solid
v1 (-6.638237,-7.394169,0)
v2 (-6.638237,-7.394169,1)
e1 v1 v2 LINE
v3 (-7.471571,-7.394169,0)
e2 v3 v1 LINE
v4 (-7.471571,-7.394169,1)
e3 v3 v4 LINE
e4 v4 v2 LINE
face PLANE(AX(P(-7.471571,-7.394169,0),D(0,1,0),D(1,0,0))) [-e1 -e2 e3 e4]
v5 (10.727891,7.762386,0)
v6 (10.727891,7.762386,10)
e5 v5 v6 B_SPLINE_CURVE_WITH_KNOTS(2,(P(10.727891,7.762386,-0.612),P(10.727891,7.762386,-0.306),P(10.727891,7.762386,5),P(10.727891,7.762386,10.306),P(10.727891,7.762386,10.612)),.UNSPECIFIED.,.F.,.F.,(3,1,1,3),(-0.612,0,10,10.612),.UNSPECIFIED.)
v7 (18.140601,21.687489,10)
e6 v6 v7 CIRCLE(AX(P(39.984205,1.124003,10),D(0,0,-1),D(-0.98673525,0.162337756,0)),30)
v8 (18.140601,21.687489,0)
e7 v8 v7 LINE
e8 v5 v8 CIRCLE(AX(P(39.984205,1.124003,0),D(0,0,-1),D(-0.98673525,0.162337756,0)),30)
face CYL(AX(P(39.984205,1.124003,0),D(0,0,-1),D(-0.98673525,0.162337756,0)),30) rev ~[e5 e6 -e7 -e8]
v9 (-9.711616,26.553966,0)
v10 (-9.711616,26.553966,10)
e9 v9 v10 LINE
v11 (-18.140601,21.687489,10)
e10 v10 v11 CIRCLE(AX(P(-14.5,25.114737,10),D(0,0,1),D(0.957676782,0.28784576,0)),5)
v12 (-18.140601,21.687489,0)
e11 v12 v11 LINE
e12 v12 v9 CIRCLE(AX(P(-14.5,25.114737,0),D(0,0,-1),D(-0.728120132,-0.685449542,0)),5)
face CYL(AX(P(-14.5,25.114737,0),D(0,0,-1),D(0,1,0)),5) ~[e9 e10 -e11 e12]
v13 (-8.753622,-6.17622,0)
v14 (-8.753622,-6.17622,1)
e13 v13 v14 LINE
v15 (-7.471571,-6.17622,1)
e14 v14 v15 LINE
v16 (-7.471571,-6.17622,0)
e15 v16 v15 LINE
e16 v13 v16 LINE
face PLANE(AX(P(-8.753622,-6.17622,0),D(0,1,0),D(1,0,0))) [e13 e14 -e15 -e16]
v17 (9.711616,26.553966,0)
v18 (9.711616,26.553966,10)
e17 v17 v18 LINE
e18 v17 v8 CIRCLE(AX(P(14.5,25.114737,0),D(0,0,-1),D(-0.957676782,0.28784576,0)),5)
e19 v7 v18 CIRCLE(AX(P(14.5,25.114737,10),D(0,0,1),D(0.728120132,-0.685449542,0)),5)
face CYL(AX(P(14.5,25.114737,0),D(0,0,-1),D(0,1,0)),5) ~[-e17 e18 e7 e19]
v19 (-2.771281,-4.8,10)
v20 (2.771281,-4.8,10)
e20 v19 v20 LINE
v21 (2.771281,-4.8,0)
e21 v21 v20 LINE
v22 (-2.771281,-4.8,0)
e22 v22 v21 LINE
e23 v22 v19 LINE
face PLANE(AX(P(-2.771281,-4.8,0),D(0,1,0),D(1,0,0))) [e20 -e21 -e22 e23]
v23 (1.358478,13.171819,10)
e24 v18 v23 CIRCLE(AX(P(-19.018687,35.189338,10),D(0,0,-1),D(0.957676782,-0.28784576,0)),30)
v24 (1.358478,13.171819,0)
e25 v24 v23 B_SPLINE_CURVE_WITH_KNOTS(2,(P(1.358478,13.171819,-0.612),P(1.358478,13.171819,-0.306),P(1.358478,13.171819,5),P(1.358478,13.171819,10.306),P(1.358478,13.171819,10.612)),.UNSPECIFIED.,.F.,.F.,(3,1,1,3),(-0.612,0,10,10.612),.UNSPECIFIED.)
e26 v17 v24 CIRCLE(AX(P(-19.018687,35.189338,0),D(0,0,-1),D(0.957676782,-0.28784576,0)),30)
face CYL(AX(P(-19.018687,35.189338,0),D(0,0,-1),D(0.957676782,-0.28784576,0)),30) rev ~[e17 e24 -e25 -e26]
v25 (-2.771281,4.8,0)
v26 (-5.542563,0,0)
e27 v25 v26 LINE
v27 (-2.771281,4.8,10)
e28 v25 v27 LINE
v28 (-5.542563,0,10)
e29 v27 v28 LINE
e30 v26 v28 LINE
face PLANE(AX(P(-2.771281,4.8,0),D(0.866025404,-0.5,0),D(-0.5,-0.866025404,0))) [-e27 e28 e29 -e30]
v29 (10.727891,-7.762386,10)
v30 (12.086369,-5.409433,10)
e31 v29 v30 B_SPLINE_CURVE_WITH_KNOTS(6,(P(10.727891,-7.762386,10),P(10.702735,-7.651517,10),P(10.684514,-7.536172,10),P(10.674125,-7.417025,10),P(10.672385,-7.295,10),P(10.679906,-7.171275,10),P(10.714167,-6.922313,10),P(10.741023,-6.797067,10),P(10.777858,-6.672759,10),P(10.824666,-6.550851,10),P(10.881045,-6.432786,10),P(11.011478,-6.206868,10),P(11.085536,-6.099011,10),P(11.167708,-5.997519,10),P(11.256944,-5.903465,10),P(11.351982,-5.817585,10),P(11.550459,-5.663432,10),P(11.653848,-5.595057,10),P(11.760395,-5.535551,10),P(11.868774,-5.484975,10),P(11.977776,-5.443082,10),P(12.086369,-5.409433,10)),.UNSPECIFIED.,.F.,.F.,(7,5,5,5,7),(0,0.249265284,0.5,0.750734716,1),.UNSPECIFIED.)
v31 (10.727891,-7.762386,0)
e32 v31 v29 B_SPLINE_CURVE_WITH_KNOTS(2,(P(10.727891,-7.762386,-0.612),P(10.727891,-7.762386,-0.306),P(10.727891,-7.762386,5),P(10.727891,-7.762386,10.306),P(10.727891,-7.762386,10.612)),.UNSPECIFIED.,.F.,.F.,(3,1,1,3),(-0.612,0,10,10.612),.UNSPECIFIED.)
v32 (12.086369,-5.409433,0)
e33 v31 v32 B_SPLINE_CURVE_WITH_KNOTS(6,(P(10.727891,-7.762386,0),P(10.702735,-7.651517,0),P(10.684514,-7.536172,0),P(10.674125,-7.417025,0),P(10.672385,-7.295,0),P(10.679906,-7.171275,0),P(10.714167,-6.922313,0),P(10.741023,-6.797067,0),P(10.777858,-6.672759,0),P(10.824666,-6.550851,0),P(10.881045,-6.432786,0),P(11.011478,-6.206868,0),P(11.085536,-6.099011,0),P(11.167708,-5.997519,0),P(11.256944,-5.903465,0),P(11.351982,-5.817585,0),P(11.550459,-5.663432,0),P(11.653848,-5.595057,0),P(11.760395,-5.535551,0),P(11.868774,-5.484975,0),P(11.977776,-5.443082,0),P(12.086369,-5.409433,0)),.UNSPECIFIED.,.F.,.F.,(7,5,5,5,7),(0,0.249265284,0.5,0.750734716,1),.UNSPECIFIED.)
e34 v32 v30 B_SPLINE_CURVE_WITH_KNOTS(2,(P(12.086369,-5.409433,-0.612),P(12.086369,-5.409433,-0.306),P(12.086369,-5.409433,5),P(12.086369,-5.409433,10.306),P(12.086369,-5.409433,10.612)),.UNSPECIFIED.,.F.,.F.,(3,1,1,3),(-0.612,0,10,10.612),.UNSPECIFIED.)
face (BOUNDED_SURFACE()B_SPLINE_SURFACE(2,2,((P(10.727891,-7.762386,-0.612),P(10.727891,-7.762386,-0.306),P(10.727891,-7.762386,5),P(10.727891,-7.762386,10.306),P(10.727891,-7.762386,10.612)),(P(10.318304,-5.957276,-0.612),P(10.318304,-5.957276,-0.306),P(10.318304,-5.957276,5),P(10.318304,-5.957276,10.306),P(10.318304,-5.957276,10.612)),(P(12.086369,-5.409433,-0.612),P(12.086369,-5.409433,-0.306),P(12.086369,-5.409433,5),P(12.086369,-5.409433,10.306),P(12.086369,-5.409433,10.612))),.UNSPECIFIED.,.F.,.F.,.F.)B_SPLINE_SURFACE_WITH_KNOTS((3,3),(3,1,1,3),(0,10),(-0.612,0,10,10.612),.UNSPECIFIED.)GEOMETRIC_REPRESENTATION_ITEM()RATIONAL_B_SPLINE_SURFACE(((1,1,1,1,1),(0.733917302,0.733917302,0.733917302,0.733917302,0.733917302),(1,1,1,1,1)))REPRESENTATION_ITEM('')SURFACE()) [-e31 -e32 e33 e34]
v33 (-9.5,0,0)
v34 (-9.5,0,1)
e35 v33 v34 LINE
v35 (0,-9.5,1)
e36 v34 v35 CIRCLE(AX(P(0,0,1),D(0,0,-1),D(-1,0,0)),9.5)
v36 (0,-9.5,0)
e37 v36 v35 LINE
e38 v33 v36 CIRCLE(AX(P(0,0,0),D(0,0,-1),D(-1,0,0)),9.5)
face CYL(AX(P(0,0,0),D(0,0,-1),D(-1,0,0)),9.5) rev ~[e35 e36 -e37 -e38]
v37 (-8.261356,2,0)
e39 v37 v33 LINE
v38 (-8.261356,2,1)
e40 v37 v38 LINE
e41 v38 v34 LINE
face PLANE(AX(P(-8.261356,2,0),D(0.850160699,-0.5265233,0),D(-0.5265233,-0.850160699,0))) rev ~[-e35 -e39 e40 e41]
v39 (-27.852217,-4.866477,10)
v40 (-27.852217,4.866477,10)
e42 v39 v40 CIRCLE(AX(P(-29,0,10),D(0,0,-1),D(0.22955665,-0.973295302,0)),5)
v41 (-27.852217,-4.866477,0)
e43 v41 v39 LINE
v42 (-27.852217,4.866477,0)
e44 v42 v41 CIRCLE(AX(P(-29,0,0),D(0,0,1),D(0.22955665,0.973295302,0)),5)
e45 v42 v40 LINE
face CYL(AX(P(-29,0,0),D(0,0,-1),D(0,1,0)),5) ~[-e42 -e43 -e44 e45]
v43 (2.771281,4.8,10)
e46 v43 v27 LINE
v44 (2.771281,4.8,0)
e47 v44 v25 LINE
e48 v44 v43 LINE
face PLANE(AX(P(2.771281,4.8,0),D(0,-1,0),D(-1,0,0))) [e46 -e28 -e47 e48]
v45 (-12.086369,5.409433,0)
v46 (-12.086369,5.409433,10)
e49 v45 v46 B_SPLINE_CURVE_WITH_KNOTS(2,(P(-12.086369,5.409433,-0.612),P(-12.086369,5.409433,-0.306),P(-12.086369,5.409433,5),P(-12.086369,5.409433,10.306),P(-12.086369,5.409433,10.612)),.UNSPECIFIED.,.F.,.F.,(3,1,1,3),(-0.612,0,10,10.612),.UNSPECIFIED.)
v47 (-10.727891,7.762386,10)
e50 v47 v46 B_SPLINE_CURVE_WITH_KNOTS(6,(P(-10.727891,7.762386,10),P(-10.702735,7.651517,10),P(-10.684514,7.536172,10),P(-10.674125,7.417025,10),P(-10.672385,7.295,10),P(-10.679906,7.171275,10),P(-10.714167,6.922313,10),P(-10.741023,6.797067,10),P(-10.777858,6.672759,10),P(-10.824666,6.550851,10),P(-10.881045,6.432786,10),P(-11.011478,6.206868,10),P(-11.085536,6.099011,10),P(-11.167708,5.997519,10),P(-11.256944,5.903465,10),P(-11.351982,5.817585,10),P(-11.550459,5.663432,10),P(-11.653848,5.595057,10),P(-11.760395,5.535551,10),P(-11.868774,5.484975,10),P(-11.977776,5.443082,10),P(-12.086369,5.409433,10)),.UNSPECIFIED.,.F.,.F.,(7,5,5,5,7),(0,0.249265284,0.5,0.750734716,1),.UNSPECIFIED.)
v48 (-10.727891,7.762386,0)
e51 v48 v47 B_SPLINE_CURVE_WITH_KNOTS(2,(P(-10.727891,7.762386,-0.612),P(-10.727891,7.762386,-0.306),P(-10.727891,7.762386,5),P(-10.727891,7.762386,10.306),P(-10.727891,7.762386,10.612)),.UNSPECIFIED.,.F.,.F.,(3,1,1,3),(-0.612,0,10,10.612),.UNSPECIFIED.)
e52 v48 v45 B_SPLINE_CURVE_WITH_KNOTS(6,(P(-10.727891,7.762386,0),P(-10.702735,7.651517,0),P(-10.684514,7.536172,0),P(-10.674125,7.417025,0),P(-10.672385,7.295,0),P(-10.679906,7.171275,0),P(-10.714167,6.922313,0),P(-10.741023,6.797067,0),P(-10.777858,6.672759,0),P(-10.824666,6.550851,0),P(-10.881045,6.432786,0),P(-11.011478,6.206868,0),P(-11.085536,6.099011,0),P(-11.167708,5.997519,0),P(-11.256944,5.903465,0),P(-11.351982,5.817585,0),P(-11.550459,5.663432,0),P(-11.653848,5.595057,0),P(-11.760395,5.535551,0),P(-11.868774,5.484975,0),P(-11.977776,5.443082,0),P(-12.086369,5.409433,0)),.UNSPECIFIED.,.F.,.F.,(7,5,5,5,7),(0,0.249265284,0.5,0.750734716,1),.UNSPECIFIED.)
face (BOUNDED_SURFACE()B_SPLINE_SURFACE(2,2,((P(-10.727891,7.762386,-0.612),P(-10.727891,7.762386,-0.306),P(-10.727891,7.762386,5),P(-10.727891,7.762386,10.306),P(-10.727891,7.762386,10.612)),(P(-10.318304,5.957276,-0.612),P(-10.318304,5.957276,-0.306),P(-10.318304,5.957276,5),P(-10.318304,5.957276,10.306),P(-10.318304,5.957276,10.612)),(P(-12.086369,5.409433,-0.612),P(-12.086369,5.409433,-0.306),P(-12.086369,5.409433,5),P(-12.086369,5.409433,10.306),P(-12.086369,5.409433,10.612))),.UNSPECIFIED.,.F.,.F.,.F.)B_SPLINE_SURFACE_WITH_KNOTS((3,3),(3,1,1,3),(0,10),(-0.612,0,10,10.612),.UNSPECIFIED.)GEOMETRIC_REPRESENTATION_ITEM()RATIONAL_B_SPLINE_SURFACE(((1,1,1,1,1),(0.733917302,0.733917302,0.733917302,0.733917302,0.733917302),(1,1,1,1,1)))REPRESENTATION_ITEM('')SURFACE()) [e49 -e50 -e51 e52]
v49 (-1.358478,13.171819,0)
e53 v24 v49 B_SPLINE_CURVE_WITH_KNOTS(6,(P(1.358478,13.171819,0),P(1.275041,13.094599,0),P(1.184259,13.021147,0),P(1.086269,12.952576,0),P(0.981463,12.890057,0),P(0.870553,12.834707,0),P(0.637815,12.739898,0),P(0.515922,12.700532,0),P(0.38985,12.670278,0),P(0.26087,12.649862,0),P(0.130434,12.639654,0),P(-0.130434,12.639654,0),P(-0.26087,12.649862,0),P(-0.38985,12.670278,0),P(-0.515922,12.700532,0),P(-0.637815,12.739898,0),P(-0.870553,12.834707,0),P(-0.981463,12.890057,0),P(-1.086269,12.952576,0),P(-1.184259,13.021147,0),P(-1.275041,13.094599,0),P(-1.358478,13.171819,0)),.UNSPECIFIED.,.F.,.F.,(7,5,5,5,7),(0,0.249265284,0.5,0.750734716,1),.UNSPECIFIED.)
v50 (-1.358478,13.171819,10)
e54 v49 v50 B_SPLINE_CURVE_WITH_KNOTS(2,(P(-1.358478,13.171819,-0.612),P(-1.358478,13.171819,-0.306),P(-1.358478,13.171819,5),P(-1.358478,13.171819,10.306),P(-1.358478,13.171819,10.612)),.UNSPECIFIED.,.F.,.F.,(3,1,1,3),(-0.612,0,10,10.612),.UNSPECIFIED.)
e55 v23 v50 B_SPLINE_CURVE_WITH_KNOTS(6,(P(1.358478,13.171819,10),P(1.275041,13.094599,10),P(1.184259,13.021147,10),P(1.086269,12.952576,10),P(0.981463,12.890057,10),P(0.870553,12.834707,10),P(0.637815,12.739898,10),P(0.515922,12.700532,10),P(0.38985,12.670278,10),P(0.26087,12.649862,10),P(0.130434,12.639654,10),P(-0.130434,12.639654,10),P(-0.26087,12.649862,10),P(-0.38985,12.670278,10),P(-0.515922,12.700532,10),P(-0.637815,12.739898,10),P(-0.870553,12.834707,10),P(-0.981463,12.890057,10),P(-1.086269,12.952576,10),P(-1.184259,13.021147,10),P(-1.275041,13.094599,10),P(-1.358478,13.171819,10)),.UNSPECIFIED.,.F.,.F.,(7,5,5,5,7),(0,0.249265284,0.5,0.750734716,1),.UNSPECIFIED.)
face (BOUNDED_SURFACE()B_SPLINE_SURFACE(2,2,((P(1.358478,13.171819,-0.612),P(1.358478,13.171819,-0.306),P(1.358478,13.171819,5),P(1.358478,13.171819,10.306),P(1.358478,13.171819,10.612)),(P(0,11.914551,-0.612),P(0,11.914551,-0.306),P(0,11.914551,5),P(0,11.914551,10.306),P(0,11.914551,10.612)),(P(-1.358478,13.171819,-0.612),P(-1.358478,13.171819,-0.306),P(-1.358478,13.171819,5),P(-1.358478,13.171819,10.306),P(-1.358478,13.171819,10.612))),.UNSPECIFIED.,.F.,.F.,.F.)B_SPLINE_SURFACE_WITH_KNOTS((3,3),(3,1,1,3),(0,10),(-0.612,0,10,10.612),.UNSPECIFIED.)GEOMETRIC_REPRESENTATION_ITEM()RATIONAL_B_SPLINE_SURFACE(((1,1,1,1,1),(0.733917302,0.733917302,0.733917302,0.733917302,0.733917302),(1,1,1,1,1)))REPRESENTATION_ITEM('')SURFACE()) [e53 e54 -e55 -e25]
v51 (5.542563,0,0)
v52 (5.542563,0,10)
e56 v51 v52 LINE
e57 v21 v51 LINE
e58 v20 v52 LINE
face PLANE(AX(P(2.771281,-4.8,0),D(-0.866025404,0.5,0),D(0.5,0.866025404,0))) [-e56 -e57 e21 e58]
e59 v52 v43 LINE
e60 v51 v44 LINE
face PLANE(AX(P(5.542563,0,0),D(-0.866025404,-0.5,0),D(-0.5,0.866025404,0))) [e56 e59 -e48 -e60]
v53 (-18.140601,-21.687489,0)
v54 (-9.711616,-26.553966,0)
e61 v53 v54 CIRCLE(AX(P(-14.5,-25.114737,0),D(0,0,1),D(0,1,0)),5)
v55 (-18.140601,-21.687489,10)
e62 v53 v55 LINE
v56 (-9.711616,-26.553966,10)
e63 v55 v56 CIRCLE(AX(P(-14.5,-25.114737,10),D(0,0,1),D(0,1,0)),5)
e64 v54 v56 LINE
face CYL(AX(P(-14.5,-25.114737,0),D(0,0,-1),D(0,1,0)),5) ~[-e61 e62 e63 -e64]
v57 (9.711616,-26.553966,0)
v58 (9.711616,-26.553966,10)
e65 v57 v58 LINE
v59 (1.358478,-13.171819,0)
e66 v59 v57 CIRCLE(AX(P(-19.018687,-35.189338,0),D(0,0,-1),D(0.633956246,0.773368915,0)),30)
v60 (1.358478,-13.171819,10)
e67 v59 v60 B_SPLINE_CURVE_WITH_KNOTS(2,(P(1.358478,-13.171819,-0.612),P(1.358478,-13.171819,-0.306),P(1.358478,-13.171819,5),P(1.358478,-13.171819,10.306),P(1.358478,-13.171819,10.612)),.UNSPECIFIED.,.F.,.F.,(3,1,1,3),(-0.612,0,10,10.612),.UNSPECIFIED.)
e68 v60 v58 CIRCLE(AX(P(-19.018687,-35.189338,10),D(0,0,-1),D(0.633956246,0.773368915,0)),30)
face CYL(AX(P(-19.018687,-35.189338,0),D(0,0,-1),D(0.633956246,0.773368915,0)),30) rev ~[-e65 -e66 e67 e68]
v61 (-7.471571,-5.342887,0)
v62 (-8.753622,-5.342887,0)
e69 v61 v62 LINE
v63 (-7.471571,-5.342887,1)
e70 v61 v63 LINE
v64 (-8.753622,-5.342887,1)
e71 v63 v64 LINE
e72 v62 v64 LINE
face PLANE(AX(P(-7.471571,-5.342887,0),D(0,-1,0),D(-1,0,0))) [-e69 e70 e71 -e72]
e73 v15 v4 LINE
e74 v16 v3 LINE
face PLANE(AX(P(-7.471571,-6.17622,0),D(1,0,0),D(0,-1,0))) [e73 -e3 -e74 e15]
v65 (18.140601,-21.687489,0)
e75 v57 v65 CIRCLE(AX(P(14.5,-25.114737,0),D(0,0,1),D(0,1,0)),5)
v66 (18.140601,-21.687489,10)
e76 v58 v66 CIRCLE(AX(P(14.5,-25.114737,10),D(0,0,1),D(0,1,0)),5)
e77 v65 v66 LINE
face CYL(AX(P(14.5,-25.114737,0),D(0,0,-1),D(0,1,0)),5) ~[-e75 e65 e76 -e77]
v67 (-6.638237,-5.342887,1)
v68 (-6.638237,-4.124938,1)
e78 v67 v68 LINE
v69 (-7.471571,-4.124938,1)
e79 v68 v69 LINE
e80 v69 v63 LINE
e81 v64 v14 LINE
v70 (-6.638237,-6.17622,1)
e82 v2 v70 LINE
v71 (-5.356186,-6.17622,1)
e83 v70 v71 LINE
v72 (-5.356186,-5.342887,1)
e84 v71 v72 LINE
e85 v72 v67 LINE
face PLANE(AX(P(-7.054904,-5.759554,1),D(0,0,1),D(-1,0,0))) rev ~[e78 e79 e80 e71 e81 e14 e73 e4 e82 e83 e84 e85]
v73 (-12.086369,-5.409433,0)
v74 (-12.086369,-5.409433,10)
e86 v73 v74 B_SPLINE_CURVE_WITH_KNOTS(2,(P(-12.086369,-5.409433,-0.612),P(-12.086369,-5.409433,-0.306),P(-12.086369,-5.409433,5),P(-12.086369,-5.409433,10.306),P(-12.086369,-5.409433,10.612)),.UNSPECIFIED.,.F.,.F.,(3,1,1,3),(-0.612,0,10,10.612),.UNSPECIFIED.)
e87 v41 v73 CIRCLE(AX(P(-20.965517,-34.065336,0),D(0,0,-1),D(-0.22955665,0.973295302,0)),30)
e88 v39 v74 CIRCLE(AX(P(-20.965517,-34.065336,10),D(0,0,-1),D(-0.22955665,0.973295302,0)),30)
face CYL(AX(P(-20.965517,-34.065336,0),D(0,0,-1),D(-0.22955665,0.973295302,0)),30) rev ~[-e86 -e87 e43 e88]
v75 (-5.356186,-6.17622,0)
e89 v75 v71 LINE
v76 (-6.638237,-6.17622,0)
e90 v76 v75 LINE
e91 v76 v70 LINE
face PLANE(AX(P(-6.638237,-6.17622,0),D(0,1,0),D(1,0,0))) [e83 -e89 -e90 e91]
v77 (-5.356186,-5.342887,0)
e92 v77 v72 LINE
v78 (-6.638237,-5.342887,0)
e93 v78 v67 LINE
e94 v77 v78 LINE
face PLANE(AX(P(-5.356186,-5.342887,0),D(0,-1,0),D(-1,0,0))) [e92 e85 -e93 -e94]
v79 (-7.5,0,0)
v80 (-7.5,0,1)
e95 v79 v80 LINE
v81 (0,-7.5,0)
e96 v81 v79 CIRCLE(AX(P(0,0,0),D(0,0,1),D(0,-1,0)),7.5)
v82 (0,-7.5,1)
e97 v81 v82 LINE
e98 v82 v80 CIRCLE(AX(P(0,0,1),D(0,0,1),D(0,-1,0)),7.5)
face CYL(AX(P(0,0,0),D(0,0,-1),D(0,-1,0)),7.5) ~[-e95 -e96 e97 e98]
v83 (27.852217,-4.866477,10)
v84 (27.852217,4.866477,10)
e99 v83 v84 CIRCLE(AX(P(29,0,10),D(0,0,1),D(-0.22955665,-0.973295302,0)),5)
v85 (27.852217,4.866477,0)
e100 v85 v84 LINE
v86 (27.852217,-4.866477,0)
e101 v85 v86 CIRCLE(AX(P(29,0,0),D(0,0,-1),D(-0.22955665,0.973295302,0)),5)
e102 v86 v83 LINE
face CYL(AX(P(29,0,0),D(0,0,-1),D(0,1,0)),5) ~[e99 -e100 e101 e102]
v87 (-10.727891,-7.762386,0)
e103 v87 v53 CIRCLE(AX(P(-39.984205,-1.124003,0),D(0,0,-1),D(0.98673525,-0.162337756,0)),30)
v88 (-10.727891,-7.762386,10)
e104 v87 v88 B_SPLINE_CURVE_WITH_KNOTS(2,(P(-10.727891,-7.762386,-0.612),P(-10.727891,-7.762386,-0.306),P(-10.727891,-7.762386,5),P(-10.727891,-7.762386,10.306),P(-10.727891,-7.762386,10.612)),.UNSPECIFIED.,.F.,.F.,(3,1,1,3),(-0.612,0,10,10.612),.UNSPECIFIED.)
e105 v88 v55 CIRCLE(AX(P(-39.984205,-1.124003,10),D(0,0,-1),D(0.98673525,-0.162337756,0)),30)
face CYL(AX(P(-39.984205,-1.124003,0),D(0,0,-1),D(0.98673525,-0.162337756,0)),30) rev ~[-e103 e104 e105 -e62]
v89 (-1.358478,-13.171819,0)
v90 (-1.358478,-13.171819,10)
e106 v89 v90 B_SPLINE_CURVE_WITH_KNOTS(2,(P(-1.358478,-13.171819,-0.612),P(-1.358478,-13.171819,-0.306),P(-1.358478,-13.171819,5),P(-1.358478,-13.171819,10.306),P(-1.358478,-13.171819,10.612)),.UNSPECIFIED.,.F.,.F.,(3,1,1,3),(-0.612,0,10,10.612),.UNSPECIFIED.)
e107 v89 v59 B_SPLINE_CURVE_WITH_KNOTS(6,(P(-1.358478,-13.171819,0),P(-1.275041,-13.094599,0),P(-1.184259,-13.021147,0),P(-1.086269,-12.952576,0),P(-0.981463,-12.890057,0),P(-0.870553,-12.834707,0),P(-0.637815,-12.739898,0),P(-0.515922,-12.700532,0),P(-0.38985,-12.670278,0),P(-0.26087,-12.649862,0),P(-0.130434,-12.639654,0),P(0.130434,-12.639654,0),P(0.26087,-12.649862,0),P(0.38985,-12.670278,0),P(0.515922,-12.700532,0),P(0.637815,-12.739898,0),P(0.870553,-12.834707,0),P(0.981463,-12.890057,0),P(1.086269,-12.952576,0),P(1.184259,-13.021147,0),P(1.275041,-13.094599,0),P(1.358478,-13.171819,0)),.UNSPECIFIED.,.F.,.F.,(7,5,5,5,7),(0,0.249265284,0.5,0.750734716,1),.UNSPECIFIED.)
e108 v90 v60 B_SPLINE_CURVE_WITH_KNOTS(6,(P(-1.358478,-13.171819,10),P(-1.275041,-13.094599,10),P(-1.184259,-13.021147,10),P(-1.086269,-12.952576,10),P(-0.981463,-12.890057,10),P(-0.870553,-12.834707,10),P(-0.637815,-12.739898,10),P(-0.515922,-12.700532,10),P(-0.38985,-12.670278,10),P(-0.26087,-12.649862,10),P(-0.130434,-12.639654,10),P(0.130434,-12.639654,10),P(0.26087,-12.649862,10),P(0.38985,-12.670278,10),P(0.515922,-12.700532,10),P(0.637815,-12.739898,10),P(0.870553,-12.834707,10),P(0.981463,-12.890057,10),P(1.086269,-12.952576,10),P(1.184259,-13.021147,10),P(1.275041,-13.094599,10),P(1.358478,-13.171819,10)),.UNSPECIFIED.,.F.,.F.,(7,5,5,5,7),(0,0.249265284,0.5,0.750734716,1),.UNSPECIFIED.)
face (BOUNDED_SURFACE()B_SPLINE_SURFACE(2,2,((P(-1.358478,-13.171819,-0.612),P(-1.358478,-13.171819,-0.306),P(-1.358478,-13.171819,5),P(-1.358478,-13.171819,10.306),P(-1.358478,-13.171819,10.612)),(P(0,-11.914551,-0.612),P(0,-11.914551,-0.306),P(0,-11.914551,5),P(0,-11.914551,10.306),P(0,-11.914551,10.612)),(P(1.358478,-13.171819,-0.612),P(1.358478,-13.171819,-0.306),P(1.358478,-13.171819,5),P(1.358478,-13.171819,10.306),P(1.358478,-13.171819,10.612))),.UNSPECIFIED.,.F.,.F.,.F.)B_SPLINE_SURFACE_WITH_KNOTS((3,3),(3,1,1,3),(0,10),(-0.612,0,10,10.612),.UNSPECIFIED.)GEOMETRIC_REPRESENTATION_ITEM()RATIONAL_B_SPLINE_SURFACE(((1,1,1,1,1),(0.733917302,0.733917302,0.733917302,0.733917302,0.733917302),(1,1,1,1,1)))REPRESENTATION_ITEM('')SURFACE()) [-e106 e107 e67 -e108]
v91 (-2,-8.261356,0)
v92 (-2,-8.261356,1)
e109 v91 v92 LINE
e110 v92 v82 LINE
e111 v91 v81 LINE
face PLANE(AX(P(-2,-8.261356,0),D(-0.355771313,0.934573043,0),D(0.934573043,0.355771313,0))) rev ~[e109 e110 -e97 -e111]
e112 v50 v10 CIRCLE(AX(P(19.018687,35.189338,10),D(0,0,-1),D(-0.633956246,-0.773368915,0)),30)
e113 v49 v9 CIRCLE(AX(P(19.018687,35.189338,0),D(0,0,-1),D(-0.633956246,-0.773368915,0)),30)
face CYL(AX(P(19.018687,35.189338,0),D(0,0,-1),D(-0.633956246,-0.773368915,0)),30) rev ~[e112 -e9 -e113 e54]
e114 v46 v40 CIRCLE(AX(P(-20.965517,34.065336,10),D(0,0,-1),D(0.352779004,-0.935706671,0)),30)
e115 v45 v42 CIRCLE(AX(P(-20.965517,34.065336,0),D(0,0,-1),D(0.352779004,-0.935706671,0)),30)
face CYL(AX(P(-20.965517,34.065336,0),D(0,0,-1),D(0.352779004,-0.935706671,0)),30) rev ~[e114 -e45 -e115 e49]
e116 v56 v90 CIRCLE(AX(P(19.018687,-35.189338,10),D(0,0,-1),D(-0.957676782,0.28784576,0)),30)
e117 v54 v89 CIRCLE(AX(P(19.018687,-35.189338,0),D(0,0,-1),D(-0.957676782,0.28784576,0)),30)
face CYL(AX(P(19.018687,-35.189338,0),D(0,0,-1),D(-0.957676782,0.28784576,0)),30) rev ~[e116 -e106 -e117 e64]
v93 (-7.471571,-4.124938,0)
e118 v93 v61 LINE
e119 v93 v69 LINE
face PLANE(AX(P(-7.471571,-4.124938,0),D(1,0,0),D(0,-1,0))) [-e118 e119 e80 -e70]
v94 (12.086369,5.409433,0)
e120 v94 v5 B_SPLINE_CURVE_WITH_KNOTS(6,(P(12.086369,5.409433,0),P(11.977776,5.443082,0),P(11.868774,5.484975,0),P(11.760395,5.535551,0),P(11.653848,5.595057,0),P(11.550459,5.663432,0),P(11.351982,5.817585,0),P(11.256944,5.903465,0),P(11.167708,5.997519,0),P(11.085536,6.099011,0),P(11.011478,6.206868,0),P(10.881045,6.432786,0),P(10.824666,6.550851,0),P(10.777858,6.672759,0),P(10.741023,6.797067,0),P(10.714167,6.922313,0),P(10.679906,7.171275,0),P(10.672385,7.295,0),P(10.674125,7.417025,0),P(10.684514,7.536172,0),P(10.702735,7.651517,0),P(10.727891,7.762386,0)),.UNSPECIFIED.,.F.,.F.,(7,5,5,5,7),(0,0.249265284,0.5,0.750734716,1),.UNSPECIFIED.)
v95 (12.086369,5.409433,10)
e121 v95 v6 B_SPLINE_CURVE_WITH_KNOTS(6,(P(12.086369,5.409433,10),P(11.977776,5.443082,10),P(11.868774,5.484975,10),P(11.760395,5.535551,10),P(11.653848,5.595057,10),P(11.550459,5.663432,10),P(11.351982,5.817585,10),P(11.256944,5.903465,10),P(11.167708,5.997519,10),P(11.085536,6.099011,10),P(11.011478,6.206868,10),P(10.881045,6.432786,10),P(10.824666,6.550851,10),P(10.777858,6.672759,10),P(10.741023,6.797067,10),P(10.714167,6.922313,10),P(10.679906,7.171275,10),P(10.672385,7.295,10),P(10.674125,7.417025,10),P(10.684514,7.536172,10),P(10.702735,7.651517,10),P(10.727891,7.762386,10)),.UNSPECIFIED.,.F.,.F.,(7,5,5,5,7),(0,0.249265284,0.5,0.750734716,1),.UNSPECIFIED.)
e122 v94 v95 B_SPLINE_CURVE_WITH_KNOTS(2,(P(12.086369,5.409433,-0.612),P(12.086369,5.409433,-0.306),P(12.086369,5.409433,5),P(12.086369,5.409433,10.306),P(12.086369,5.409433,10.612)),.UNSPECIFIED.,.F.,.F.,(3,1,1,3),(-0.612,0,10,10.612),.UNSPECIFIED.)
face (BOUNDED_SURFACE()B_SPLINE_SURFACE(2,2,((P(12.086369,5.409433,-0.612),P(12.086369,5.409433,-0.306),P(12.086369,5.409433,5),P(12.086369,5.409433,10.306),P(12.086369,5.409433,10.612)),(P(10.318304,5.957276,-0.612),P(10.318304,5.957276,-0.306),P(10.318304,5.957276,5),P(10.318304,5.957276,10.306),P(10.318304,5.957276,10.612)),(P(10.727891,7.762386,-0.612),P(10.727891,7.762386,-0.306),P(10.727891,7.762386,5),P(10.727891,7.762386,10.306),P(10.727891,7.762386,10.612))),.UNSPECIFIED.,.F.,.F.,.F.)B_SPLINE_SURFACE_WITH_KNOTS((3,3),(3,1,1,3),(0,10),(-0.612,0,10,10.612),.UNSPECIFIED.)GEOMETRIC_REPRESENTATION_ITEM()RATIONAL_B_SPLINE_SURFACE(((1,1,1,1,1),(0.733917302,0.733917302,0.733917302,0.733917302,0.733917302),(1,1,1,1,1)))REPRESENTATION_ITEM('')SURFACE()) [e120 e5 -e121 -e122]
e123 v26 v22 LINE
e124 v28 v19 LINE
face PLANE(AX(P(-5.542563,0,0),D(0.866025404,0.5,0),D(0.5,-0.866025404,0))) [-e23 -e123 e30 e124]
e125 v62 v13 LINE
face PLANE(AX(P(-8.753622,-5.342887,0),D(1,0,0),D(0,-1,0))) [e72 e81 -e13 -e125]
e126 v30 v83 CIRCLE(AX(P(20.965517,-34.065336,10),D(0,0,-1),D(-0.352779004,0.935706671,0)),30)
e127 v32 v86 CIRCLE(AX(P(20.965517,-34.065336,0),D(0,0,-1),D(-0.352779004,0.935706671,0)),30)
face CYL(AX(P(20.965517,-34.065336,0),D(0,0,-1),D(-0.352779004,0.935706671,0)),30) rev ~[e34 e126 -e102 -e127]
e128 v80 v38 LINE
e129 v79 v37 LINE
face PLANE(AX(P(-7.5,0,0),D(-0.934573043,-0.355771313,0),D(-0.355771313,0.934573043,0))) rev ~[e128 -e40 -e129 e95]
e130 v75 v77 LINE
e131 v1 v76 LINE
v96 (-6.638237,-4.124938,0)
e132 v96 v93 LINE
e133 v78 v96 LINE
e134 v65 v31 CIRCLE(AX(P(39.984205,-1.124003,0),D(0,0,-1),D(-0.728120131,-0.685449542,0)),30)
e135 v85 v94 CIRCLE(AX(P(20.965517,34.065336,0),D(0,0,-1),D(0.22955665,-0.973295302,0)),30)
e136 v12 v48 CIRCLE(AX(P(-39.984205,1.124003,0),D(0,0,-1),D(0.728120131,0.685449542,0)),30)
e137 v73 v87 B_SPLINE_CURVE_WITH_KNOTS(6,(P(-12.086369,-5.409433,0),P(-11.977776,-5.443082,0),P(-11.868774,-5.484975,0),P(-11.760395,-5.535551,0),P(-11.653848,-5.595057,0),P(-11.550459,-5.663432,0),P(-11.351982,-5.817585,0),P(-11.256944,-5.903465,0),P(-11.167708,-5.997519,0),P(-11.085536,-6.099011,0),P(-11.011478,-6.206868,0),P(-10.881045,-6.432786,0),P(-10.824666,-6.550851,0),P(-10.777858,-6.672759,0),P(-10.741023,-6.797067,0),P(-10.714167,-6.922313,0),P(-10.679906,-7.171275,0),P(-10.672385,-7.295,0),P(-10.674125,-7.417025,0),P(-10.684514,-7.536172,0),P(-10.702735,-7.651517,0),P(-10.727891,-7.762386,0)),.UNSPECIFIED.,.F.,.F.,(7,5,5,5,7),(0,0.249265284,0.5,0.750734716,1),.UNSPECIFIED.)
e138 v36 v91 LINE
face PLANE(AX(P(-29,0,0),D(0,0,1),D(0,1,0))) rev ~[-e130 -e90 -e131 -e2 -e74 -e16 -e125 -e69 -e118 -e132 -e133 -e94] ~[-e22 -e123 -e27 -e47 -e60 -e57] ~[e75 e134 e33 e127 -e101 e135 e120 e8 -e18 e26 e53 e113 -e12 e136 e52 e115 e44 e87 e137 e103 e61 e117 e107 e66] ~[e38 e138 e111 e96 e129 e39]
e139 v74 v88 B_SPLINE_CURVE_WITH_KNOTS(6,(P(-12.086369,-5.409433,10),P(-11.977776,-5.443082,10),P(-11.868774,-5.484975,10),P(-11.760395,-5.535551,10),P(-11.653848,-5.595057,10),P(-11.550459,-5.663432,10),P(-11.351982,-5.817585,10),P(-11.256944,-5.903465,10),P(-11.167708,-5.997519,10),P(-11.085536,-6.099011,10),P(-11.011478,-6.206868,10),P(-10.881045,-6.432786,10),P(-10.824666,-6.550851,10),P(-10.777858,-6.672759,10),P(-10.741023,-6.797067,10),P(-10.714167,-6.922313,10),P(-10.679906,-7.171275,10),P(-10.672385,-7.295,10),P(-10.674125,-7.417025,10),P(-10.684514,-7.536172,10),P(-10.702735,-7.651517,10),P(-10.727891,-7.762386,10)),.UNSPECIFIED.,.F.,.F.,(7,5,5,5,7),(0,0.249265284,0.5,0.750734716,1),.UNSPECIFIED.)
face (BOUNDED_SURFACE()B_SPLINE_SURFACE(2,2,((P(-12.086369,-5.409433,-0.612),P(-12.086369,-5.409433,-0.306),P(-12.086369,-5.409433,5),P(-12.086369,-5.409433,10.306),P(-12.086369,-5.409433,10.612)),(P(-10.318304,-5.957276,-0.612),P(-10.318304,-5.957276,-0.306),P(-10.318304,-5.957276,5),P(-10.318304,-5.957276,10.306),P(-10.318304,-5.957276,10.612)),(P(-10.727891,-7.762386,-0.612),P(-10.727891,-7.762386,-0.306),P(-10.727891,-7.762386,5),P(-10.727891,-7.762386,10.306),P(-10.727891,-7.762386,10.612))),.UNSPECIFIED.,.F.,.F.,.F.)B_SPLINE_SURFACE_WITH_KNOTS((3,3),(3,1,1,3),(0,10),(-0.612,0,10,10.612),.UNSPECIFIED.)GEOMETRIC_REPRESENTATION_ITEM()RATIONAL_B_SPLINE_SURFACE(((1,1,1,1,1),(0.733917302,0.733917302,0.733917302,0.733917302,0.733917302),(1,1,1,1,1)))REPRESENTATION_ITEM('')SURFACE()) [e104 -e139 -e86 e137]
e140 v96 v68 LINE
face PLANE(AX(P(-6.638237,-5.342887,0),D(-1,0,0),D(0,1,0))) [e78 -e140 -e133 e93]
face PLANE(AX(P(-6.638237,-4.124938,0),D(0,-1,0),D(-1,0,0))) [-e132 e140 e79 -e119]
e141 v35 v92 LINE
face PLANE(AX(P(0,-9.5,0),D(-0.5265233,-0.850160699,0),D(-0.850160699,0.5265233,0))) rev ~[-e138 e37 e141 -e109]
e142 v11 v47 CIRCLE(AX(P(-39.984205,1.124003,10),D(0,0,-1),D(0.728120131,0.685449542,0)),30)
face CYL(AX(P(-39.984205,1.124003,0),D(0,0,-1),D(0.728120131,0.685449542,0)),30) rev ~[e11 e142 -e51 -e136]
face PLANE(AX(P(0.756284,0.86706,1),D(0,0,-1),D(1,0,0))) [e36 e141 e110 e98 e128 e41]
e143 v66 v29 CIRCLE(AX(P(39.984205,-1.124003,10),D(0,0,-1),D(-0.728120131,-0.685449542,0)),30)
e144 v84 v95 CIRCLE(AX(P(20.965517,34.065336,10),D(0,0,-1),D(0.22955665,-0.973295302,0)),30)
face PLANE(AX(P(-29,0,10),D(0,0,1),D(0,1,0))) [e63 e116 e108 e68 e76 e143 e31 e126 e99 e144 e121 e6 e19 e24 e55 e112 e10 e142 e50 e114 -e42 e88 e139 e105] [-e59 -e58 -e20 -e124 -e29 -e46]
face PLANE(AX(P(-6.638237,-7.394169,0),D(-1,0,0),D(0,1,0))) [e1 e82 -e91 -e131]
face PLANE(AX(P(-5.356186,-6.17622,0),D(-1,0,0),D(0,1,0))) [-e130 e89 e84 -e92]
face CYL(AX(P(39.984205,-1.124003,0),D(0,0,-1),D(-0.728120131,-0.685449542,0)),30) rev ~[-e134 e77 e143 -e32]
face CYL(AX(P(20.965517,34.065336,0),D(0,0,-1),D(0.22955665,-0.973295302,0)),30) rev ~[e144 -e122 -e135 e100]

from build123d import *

# Parameters (mm, degrees)
ESQUISSE1_R             = 5
ESQUISSE1_R_2           = 10
BOSS_EXTRU_1_DEPTH      = 10
CONG_1_R                = 2
ENL_V_MAT_EXTRU_1_DEPTH = 1


with BuildPart() as part:
    # Esquisse1 → Boss.-Extru.1 (new body)
    # profile 1 of 19: a face of its own
    with BuildSketch(Plane(origin=(0, 0, 0), x_dir=(0, 1, 0), z_dir=(0, 0, 1))):
        with Locations((0, -29)):
            Circle(ESQUISSE1_R)
    # profile 2 of 19: a face of its own
    with BuildSketch(Plane(origin=(0, 0, 0), x_dir=(0, 1, 0), z_dir=(0, 0, 1))):
        with BuildLine():
            ThreePointArc((5.99413543, -10.382147113), (3.146801004, -10.052477503), (0.281000689, -9.996051151))
            ThreePointArc((0.281000689, -9.996051151), (0, -10), (-0.281000689, -9.996051151))
            ThreePointArc((-0.281000689, -9.996051151), (-3.146801004, -10.052477503), (-5.99413543, -10.382147113))
            ThreePointArc((-5.99413543, -10.382147113), (-4.127637704, -19.033097235), (-4.866476509, -27.852216749))
            ThreePointArc((-4.866476509, -27.852216749), (0, -24), (4.866476509, -27.852216749))
            ThreePointArc((4.866476509, -27.852216749), (4.127637704, -19.033097235), (5.99413543, -10.382147113))
        make_face()
    # profile 3 of 19: a face of its own
    with BuildSketch(Plane(origin=(0, 0, 0), x_dir=(0, 1, 0), z_dir=(0, 0, 1))):
        with Locations((25.11473671, -14.5)):
            Circle(ESQUISSE1_R)
    # profile 4 of 19: a face of its own
    with BuildSketch(Plane(origin=(0, 0, 0), x_dir=(0, 1, 0), z_dir=(0, 0, 1))):
        with BuildLine():
            ThreePointArc((11.98827086, 0), (10.279101391, -2.301029141), (8.797334579, -4.754671841))
            ThreePointArc((8.797334579, -4.754671841), (8.660254038, -5), (8.51633389, -5.24137931))
            ThreePointArc((8.51633389, -5.24137931), (7.132300386, -7.751448362), (5.99413543, -10.382147113))
            ThreePointArc((5.99413543, -10.382147113), (14.419326866, -13.091187726), (21.687489002, -18.140600658))
            ThreePointArc((21.687489002, -18.140600658), (20.784609691, -12), (26.55396551, -9.711616091))
            ThreePointArc((26.55396551, -9.711616091), (18.54696457, -5.941909508), (11.98827086, 0))
        make_face()
    # profile 5 of 19: a face of its own
    with BuildSketch(Plane(origin=(0, 0, 0), x_dir=(0, 1, 0), z_dir=(0, 0, 1))):
        with Locations((-25.11473671, -14.5)):
            Circle(ESQUISSE1_R)
    # profile 6 of 19: a face of its own
    with BuildSketch(Plane(origin=(0, 0, 0), x_dir=(0, 1, 0), z_dir=(0, 0, 1))):
        with BuildLine():
            ThreePointArc((-5.99413543, -10.382147113), (-7.132300386, -7.751448362), (-8.51633389, -5.24137931))
            ThreePointArc((-8.51633389, -5.24137931), (-8.660254038, -5), (-8.797334579, -4.754671841))
            ThreePointArc((-8.797334579, -4.754671841), (-10.279101391, -2.301029141), (-11.98827086, 0))
            ThreePointArc((-11.98827086, 0), (-18.54696457, -5.941909508), (-26.55396551, -9.711616091))
            ThreePointArc((-26.55396551, -9.711616091), (-22.131126816, -10.487759728), (-20.11473671, -14.5))
            ThreePointArc((-20.11473671, -14.5), (-20.524734611, -16.482897055), (-21.687489002, -18.140600658))
            ThreePointArc((-21.687489002, -18.140600658), (-14.419326866, -13.091187726), (-5.99413543, -10.382147113))
        make_face()
    # profile 7 of 19: a face of its own
    with BuildSketch(Plane(origin=(0, 0, 0), x_dir=(0, 1, 0), z_dir=(0, 0, 1))):
        with BuildLine():
            ThreePointArc((-8.797334579, 4.754671841), (-8.660254038, 5), (-8.51633389, 5.24137931))
            ThreePointArc((-8.51633389, 5.24137931), (-7.132300386, 7.751448362), (-5.99413543, 10.382147113))
            ThreePointArc((-5.99413543, 10.382147113), (-14.419326866, 13.091187726), (-21.687489002, 18.140600658))
            ThreePointArc((-21.687489002, 18.140600658), (-20.524734611, 16.482897055), (-20.11473671, 14.5))
            ThreePointArc((-20.11473671, 14.5), (-22.131126816, 10.487759728), (-26.55396551, 9.711616091))
            ThreePointArc((-26.55396551, 9.711616091), (-18.54696457, 5.941909508), (-11.98827086, 0))
            ThreePointArc((-11.98827086, 0), (-10.279101391, 2.301029141), (-8.797334579, 4.754671841))
        make_face()
    # profile 8 of 19: a face of its own
    with BuildSketch(Plane(origin=(0, 0, 0), x_dir=(0, 1, 0), z_dir=(0, 0, 1))):
        with Locations((-25.11473671, 14.5)):
            Circle(ESQUISSE1_R)
    # profile 9 of 19: a face of its own
    with BuildSketch(Plane(origin=(0, 0, 0), x_dir=(0, 1, 0), z_dir=(0, 0, 1))):
        with BuildLine():
            ThreePointArc((-8.797334579, -4.754671841), (-10, 0), (-8.797334579, 4.754671841))
            ThreePointArc((-8.797334579, 4.754671841), (-10.279101391, 2.301029141), (-11.98827086, 0))
            ThreePointArc((-11.98827086, 0), (-10.279101391, -2.301029141), (-8.797334579, -4.754671841))
        make_face()
    # profile 10 of 19: a face of its own
    with BuildSketch(Plane(origin=(0, 0, 0), x_dir=(0, 1, 0), z_dir=(0, 0, 1))):
        with BuildLine():
            ThreePointArc((-5.99413543, -10.382147113), (-3.146801004, -10.052477503), (-0.281000689, -9.996051151))
            ThreePointArc((-0.281000689, -9.996051151), (-5, -8.660254038), (-8.51633389, -5.24137931))
            ThreePointArc((-8.51633389, -5.24137931), (-7.132300386, -7.751448362), (-5.99413543, -10.382147113))
        make_face()
    # profile 11 of 19: a face of its own
    with BuildSketch(Plane(origin=(0, 0, 0), x_dir=(0, 1, 0), z_dir=(0, 0, 1))):
        Circle(ESQUISSE1_R_2)
        Polygon((4.8, 2.771281292), (0, 5.542562584), (-4.8, 2.771281292), (-4.8, -2.771281292), (0, -5.542562584), (4.8, -2.771281292), align=None, mode=Mode.SUBTRACT)
    # profile 12 of 19: a face of its own
    with BuildSketch(Plane(origin=(0, 0, 0), x_dir=(0, 1, 0), z_dir=(0, 0, 1))):
        with BuildLine():
            ThreePointArc((-8.51633389, 5.24137931), (-5, 8.660254038), (-0.281000689, 9.996051151))
            ThreePointArc((-0.281000689, 9.996051151), (-3.146801004, 10.052477503), (-5.99413543, 10.382147113))
            ThreePointArc((-5.99413543, 10.382147113), (-7.132300386, 7.751448362), (-8.51633389, 5.24137931))
        make_face()
    # profile 13 of 19: a face of its own
    with BuildSketch(Plane(origin=(0, 0, 0), x_dir=(0, 1, 0), z_dir=(0, 0, 1))):
        with BuildLine():
            ThreePointArc((-0.281000689, 9.996051151), (0, 10), (0.281000689, 9.996051151))
            ThreePointArc((0.281000689, 9.996051151), (3.146801004, 10.052477503), (5.99413543, 10.382147113))
            ThreePointArc((5.99413543, 10.382147113), (4.127637704, 19.033097235), (4.866476509, 27.852216749))
            ThreePointArc((4.866476509, 27.852216749), (0, 24), (-4.866476509, 27.852216749))
            ThreePointArc((-4.866476509, 27.852216749), (-4.127637704, 19.033097235), (-5.99413543, 10.382147113))
            ThreePointArc((-5.99413543, 10.382147113), (-3.146801004, 10.052477503), (-0.281000689, 9.996051151))
        make_face()
    # profile 14 of 19: a face of its own
    with BuildSketch(Plane(origin=(0, 0, 0), x_dir=(0, 1, 0), z_dir=(0, 0, 1))):
        with BuildLine():
            ThreePointArc((8.51633389, 5.24137931), (8.660254038, 5), (8.797334579, 4.754671841))
            ThreePointArc((8.797334579, 4.754671841), (10.279101391, 2.301029141), (11.98827086, 0))
            ThreePointArc((11.98827086, 0), (18.54696457, 5.941909508), (26.55396551, 9.711616091))
            ThreePointArc((26.55396551, 9.711616091), (20.784609691, 12), (21.687489002, 18.140600658))
            ThreePointArc((21.687489002, 18.140600658), (14.419326866, 13.091187726), (5.99413543, 10.382147113))
            ThreePointArc((5.99413543, 10.382147113), (7.132300386, 7.751448362), (8.51633389, 5.24137931))
        make_face()
    # profile 15 of 19: a face of its own
    with BuildSketch(Plane(origin=(0, 0, 0), x_dir=(0, 1, 0), z_dir=(0, 0, 1))):
        with BuildLine():
            ThreePointArc((0.281000689, 9.996051151), (5, 8.660254038), (8.51633389, 5.24137931))
            ThreePointArc((8.51633389, 5.24137931), (7.132300386, 7.751448362), (5.99413543, 10.382147113))
            ThreePointArc((5.99413543, 10.382147113), (3.146801004, 10.052477503), (0.281000689, 9.996051151))
        make_face()
    # profile 16 of 19: a face of its own
    with BuildSketch(Plane(origin=(0, 0, 0), x_dir=(0, 1, 0), z_dir=(0, 0, 1))):
        with BuildLine():
            ThreePointArc((8.797334579, 4.754671841), (9.694672397, 2.452208618), (10, 0))
            ThreePointArc((10, 0), (9.694672397, -2.452208618), (8.797334579, -4.754671841))
            ThreePointArc((8.797334579, -4.754671841), (10.279101391, -2.301029141), (11.98827086, 0))
            ThreePointArc((11.98827086, 0), (10.279101391, 2.301029141), (8.797334579, 4.754671841))
        make_face()
    # profile 17 of 19: a face of its own
    with BuildSketch(Plane(origin=(0, 0, 0), x_dir=(0, 1, 0), z_dir=(0, 0, 1))):
        with BuildLine():
            ThreePointArc((5.99413543, -10.382147113), (7.132300386, -7.751448362), (8.51633389, -5.24137931))
            ThreePointArc((8.51633389, -5.24137931), (5, -8.660254038), (0.281000689, -9.996051151))
            ThreePointArc((0.281000689, -9.996051151), (3.146801004, -10.052477503), (5.99413543, -10.382147113))
        make_face()
    # profile 18 of 19: a face of its own
    with BuildSketch(Plane(origin=(0, 0, 0), x_dir=(0, 1, 0), z_dir=(0, 0, 1))):
        with Locations((25.11473671, 14.5)):
            Circle(ESQUISSE1_R)
    # profile 19 of 19: a face of its own
    with BuildSketch(Plane(origin=(0, 0, 0), x_dir=(0, 1, 0), z_dir=(0, 0, 1))):
        with Locations((0, 29)):
            Circle(ESQUISSE1_R)
    extrude(amount=BOSS_EXTRU_1_DEPTH)

    # Congé1
    cong_1_edges = [part.edges().sort_by_distance(p)[0] for p in [
        (10.382147113, 5.99413543, 5),
        (10.382147113, -5.99413543, 5),
        (0, -11.98827086, 5),
        (-10.382147113, -5.99413543, 5),
        (-10.382147113, 5.99413543, 5),
        (0, 11.98827086, 5),
    ]]
    fillet(cong_1_edges, radius=CONG_1_R)

    # Esquisse2 → Enlèv. mat.-Extru.1 (cut)
    with BuildSketch(Plane(origin=(0, 0, 0), x_dir=(1, 0, 0), z_dir=(0, 0, -1))):
        with BuildLine():
            Line((0, 9.5), (-2, 8.261355821))
            Line((-2, 8.261355821), (0, 7.5))
            ThreePointArc((0, 7.5), (5.303300859, -5.303300859), (-7.5, 0))
            Line((-7.5, 0), (-8.261355821, -2))
            Line((-8.261355821, -2), (-9.5, 0))
            ThreePointArc((-9.5, 0), (6.717514421, -6.717514421), (0, 9.5))
        make_face()
        Polygon((-7.471570722, 6.176220416), (-7.471570722, 7.394169134), (-6.638237388, 7.394169134), (-6.638237388, 6.176220416), (-5.356186106, 6.176220416), (-5.356186106, 5.342887082), (-6.638237388, 5.342887082), (-6.638237388, 4.124938365), (-7.471570722, 4.124938365), (-7.471570722, 5.342887082), (-8.753622004, 5.342887082), (-8.753622004, 6.176220416), align=None)
    extrude(amount=-ENL_V_MAT_EXTRU_1_DEPTH, mode=Mode.SUBTRACT)


solid = part.part
